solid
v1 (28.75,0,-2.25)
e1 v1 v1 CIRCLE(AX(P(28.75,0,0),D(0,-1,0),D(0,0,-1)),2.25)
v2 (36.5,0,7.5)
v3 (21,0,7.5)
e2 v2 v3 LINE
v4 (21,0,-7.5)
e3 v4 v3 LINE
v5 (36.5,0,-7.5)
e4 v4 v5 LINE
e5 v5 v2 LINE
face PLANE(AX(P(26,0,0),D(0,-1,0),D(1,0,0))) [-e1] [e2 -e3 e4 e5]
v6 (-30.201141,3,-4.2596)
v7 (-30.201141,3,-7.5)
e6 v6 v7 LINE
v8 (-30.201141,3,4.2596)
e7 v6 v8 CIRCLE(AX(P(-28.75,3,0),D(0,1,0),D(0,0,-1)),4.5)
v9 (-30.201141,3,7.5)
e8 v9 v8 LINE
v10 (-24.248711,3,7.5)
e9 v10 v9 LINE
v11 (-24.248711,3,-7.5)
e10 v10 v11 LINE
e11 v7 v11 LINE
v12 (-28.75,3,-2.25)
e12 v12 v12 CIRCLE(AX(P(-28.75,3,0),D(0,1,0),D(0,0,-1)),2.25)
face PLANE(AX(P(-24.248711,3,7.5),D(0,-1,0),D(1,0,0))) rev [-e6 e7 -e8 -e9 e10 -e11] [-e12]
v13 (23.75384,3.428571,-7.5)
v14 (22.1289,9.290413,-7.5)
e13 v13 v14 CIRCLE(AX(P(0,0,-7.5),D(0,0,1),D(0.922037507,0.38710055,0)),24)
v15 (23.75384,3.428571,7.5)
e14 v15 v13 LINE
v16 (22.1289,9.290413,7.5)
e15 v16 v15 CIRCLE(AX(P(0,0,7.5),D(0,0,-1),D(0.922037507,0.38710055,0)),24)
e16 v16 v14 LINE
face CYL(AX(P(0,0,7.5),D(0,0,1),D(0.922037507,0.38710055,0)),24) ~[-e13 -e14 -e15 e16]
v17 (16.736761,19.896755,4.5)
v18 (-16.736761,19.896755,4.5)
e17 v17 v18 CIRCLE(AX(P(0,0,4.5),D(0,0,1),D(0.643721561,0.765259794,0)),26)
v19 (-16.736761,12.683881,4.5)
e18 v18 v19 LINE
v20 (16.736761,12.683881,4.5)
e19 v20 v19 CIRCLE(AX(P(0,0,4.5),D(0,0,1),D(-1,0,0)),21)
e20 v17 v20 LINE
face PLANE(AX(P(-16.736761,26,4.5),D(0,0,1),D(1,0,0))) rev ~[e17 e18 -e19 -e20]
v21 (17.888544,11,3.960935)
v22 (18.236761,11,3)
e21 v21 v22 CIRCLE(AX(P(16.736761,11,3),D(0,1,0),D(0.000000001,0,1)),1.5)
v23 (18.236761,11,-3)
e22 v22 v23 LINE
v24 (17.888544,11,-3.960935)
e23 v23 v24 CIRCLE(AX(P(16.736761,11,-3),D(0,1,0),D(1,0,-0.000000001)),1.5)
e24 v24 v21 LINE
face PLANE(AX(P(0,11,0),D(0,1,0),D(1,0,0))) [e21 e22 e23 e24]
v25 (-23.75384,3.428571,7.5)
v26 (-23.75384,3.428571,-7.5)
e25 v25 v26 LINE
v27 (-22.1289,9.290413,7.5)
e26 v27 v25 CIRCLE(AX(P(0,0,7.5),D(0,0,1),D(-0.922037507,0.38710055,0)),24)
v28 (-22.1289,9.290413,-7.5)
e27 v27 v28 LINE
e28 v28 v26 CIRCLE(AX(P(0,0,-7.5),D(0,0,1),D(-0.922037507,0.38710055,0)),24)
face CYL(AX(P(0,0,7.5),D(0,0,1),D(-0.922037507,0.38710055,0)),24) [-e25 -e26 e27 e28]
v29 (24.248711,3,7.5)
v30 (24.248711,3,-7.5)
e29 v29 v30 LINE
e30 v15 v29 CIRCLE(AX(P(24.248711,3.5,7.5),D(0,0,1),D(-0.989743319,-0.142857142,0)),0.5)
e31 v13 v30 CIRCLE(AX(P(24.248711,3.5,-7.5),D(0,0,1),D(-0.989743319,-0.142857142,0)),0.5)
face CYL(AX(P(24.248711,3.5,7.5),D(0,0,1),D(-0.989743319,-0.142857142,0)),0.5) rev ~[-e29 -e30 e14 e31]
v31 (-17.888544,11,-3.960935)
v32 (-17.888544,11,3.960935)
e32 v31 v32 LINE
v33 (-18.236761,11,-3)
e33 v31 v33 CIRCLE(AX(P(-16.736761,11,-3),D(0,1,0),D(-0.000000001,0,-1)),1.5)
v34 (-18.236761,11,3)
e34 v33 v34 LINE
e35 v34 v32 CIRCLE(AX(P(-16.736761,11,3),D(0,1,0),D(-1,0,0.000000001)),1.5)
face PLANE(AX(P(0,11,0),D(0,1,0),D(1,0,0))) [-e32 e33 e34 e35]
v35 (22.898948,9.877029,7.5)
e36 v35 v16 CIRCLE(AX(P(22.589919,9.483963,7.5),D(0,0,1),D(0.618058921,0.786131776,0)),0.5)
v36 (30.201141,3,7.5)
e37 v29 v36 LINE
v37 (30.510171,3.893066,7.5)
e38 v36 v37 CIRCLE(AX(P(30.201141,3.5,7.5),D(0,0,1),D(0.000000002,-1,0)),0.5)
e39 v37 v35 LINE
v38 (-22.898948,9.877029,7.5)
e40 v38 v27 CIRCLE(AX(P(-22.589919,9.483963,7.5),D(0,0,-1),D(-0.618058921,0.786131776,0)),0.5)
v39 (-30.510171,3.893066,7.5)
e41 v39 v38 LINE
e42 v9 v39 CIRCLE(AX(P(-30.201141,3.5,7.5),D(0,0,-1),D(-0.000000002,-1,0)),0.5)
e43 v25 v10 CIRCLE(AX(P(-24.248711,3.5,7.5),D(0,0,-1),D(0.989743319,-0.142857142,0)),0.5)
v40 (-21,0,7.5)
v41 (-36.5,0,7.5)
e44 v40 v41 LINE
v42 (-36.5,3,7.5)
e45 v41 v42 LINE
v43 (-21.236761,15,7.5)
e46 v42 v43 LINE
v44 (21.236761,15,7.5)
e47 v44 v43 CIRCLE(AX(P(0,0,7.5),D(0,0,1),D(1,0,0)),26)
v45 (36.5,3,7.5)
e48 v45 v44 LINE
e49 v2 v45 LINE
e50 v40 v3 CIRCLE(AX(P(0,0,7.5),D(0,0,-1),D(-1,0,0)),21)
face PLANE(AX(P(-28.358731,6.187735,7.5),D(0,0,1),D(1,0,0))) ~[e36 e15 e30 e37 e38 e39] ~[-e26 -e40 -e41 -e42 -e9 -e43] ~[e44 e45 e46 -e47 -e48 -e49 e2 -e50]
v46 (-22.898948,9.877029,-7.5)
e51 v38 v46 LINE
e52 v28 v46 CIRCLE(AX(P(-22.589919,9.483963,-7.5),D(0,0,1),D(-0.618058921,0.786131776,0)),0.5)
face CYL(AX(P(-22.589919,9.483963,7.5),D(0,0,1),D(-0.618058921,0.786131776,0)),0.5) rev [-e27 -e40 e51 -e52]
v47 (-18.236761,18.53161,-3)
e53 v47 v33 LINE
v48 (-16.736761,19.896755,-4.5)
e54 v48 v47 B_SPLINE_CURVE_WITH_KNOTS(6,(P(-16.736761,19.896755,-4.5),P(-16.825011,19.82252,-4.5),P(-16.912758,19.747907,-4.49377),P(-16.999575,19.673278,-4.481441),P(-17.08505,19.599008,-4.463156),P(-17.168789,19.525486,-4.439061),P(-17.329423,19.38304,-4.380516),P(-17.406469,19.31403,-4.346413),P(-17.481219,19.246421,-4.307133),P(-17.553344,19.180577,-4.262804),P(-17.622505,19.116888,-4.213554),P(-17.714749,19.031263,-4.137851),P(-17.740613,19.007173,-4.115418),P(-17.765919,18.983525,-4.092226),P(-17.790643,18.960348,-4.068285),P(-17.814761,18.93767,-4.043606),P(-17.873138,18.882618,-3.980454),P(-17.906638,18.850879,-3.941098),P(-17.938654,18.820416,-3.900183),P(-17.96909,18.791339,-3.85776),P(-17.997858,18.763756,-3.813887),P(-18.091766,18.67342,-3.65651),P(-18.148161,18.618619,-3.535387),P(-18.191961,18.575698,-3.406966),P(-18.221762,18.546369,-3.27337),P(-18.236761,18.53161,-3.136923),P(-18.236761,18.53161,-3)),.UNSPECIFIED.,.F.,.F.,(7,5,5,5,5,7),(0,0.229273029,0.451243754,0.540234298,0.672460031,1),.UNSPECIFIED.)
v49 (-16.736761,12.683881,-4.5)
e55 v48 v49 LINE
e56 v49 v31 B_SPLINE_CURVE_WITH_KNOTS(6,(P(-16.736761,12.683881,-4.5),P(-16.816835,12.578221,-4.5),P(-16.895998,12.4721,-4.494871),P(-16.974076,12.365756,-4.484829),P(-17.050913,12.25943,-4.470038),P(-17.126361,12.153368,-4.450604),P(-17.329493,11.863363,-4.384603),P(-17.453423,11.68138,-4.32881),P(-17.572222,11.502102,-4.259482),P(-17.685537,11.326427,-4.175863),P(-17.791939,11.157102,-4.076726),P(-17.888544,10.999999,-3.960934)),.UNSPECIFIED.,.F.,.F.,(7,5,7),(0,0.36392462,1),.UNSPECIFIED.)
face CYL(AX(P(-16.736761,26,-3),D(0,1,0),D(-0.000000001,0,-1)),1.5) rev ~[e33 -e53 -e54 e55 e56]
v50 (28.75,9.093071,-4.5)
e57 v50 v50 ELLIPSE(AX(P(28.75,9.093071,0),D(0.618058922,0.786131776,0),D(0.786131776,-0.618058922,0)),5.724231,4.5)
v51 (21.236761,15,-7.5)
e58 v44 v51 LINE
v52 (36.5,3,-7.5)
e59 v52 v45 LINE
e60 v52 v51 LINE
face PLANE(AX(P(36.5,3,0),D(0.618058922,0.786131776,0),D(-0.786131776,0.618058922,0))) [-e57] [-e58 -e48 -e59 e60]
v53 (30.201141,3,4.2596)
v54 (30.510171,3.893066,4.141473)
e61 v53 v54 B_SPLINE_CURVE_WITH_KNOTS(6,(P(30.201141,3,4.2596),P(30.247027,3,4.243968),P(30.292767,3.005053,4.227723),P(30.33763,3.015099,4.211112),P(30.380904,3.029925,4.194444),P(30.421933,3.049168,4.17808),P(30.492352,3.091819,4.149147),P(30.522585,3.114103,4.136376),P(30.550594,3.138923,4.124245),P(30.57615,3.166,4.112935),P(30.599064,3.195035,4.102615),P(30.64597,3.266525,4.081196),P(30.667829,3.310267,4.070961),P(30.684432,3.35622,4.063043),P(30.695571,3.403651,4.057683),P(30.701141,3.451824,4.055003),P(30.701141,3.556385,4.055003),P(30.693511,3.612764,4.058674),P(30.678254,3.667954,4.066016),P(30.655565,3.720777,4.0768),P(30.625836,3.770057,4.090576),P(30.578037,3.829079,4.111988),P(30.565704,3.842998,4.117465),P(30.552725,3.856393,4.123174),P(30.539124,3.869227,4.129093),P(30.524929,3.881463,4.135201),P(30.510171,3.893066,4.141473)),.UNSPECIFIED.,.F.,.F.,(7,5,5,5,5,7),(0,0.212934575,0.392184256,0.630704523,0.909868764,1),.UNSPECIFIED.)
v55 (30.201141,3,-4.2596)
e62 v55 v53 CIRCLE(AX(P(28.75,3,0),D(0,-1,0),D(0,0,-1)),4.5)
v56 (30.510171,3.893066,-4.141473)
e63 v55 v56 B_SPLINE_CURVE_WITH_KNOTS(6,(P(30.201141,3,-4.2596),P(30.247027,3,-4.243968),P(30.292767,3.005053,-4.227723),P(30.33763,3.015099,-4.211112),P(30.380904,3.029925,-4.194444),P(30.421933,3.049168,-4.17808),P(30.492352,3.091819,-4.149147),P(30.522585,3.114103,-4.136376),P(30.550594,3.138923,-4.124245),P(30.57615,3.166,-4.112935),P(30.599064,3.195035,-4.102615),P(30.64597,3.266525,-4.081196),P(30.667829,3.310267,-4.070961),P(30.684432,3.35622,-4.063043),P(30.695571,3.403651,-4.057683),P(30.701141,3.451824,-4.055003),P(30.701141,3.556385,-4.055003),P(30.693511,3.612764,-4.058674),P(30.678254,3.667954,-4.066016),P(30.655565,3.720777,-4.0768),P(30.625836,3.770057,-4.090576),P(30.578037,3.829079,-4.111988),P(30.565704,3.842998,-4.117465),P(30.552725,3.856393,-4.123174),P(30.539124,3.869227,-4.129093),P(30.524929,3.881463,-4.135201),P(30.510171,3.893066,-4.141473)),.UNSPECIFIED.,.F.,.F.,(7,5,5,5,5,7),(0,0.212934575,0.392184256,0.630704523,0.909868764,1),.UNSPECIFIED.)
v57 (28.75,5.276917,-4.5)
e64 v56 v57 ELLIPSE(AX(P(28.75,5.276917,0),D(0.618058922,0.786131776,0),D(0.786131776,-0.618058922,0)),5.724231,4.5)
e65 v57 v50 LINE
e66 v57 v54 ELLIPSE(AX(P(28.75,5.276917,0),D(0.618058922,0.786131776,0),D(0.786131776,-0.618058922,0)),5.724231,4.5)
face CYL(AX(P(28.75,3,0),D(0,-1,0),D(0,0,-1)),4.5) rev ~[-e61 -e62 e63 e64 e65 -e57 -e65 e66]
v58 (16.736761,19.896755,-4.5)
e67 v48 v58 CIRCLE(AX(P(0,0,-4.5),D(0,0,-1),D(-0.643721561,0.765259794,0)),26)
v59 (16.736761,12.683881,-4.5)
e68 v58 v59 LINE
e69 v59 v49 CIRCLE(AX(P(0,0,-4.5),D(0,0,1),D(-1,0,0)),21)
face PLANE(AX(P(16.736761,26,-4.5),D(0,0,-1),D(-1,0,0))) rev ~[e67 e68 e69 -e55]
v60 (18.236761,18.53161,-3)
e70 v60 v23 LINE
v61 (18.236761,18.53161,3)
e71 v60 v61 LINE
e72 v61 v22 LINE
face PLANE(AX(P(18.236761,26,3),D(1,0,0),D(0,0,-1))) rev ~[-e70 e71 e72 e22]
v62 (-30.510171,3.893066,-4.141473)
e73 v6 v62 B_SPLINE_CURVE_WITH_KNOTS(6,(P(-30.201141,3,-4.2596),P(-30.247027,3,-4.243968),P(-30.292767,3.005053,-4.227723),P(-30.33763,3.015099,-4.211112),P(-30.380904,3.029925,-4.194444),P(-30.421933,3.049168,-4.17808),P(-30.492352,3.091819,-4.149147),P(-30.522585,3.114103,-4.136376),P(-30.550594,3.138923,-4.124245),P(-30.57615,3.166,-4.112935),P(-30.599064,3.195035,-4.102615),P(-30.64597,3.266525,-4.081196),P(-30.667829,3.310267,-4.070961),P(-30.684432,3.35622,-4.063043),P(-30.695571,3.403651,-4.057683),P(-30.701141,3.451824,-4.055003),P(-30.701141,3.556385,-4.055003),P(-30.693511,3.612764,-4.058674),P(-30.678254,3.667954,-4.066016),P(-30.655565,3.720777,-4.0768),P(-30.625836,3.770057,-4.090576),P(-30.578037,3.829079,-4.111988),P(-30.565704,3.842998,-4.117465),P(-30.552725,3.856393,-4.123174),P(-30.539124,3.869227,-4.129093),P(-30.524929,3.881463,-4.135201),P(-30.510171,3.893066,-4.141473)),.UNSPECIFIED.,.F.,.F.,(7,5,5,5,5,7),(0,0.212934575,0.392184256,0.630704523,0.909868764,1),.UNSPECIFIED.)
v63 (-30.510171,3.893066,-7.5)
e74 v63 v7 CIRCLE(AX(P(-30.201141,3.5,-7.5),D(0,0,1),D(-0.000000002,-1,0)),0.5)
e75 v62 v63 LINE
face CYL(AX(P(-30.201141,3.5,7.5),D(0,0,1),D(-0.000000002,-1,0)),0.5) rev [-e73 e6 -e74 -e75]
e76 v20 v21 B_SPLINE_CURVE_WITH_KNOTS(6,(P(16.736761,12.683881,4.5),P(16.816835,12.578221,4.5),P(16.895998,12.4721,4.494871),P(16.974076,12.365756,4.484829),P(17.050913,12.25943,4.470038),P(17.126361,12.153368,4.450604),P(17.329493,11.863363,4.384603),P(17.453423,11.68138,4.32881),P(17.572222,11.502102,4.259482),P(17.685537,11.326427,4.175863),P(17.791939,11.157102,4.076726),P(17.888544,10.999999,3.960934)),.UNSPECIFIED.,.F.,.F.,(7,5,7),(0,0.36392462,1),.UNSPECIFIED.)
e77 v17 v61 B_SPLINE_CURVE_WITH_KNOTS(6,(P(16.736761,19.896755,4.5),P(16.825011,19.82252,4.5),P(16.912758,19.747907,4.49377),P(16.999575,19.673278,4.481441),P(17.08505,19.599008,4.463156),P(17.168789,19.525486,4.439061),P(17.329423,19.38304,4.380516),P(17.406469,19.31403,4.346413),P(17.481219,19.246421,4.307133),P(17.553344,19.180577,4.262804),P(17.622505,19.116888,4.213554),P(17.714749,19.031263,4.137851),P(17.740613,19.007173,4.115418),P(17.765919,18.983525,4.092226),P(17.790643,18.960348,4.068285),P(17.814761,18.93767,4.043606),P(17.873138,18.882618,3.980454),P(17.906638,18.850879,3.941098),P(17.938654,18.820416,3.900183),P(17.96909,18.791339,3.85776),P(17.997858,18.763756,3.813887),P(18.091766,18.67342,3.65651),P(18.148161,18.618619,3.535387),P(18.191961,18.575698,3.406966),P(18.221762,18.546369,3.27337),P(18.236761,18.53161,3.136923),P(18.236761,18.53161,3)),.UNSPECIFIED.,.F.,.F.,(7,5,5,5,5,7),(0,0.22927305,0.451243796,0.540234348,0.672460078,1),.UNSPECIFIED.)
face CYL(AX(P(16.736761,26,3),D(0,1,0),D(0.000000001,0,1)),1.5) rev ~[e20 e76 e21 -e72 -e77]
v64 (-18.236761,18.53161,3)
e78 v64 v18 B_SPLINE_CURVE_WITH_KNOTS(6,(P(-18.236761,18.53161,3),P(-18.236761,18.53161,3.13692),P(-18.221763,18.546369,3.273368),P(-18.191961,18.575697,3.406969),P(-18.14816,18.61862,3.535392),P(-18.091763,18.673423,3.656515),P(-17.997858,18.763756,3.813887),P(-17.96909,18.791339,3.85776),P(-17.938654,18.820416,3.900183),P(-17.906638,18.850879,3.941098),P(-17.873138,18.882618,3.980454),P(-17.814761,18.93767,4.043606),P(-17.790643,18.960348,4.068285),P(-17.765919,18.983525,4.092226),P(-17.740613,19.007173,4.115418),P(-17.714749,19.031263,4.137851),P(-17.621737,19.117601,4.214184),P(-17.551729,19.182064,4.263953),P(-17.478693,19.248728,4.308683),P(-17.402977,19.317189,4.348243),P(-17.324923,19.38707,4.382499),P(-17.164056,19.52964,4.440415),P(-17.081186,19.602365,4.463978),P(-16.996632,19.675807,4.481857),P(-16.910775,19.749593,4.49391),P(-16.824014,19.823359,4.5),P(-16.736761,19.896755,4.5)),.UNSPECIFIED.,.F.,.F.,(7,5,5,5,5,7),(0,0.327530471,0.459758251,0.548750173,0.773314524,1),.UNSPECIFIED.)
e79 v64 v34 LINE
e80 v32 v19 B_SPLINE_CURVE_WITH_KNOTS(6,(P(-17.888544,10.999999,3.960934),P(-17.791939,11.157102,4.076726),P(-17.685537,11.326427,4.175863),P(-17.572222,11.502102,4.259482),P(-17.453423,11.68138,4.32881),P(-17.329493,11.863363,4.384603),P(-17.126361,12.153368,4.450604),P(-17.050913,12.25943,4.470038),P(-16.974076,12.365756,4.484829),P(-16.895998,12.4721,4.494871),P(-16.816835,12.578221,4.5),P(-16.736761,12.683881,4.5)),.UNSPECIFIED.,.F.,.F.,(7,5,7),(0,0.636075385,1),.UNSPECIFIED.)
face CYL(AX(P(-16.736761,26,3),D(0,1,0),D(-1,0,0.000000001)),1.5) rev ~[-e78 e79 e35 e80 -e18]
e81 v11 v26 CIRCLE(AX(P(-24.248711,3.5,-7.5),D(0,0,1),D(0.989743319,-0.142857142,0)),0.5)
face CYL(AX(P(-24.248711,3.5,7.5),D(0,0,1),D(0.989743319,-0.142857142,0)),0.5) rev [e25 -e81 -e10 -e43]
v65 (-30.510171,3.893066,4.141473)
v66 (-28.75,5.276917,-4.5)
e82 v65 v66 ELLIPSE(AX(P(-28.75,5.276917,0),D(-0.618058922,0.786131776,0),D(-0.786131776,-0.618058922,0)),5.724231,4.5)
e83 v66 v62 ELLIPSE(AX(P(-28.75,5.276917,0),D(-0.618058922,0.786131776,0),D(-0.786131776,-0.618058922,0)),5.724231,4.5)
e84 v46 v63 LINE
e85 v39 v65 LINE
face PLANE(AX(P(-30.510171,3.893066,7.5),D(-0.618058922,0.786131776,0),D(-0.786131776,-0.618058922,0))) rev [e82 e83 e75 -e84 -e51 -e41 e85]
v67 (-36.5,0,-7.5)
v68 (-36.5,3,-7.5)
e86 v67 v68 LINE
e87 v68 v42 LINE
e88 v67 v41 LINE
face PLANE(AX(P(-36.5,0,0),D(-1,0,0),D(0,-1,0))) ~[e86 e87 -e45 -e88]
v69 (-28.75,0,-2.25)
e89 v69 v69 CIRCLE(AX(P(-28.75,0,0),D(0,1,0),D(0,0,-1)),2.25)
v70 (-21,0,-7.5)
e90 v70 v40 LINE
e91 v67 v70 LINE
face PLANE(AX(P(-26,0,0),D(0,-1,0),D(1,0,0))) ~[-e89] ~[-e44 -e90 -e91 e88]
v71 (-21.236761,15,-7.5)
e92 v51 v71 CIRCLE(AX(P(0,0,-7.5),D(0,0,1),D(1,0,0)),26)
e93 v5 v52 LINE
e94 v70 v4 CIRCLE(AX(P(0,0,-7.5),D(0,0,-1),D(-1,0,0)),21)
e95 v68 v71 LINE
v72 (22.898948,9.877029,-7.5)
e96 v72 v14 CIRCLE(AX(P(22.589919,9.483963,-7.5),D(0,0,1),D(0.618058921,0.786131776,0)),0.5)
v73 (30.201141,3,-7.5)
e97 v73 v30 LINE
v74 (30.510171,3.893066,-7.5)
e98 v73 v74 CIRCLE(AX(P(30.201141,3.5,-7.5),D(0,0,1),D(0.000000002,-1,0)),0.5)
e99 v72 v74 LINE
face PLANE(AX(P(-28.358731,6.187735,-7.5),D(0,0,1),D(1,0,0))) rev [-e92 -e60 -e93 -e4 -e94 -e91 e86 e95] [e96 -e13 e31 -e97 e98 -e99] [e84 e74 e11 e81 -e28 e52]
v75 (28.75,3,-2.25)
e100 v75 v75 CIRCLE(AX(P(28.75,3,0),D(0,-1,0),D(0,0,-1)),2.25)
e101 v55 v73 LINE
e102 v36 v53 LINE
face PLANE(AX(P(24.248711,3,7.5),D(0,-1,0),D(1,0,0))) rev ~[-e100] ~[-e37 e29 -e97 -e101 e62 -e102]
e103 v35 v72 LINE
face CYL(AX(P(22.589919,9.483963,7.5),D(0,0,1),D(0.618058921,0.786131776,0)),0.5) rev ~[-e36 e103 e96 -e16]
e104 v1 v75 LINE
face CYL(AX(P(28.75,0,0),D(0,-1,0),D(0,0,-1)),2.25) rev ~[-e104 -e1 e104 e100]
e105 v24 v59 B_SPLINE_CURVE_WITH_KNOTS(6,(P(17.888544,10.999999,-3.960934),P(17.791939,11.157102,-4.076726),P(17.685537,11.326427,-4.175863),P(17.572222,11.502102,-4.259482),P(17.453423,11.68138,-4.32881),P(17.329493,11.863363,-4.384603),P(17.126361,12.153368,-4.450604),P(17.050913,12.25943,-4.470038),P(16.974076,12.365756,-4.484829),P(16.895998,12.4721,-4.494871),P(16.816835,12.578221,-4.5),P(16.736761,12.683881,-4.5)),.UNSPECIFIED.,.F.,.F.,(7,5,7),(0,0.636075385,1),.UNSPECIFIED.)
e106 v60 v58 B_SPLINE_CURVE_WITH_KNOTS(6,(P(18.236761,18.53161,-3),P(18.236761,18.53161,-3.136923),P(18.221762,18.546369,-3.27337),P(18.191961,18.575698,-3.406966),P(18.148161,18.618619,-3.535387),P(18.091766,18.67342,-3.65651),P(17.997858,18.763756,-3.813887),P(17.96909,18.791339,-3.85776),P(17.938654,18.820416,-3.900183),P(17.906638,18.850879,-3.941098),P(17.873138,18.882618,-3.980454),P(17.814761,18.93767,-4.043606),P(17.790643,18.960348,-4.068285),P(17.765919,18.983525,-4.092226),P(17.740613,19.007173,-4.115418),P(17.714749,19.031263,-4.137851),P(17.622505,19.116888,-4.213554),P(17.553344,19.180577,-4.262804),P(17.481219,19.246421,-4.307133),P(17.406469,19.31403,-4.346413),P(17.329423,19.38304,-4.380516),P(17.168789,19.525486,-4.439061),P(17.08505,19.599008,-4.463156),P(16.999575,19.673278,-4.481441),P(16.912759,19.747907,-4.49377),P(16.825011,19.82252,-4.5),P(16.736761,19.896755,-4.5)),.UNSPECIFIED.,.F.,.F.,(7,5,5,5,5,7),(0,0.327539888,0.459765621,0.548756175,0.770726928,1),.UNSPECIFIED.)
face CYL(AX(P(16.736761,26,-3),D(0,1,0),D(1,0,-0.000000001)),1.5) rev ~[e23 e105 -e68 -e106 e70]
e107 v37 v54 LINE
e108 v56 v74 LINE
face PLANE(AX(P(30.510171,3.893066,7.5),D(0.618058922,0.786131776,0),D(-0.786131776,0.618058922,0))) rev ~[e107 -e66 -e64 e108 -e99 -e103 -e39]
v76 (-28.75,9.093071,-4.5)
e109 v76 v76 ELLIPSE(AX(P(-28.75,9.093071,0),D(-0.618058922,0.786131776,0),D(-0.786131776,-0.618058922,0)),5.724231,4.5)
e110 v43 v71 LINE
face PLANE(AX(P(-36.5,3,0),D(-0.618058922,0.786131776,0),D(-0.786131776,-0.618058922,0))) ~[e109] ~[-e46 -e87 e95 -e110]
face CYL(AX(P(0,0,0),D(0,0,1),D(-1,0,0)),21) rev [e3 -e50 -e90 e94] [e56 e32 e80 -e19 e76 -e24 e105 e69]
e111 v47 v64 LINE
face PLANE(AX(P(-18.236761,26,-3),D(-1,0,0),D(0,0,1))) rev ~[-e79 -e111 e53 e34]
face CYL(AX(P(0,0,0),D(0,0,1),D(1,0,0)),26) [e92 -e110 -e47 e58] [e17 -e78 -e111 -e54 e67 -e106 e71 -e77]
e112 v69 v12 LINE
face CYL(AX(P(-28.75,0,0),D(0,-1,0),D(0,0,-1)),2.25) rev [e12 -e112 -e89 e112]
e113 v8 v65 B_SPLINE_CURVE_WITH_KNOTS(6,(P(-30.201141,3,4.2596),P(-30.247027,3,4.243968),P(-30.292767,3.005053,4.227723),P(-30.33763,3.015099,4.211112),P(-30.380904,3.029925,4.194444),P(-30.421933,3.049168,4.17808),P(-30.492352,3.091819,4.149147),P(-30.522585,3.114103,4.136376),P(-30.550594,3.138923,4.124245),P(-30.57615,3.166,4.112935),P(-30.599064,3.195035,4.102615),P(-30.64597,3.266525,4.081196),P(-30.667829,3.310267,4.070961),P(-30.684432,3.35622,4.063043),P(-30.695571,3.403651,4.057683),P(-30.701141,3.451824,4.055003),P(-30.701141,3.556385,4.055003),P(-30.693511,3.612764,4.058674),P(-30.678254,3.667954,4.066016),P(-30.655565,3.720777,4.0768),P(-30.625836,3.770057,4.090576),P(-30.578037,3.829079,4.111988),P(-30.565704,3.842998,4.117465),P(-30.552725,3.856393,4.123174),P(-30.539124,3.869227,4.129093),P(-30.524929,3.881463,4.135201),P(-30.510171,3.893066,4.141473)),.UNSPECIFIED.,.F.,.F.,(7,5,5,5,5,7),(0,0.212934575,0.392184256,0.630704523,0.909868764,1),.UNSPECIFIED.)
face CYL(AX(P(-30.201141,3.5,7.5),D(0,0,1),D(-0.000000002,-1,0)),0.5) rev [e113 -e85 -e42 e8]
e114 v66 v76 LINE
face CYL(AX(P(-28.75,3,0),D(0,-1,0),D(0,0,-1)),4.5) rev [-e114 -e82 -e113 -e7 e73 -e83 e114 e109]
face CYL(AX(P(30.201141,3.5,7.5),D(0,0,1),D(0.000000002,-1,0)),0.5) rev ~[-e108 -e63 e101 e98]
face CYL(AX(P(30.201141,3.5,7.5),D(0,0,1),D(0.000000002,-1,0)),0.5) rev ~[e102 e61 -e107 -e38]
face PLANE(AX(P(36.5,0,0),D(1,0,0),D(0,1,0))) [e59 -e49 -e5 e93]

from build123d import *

# Parameters (mm, degrees)
SALIENTE_EXTRUIR1_DEPTH = 7.5
SALIENTE_EXTRUIR2_DEPTH = 7.5
CROQUIS3_R              = 2.25
CORTAR_EXTRUIR1_DEPTH   = 46.436769251
CROQUIS4_R              = 4.5
CORTAR_EXTRUIR2_DEPTH   = 44.789268092
CORTAR_EXTRUIR3_DEPTH   = 48.257274572
CORTAR_EXTRUIR4_DEPTH   = 15


with BuildPart() as part:
    # Croquis1 → Saliente-Extruir1 (new, symmetric)
    with BuildSketch(Plane.XY):
        with BuildLine():
            Line((-26, 0), (-21, 0))
            ThreePointArc((-21, 0), (0, 21), (21, 0))
            Line((21, 0), (26, 0))
            ThreePointArc((26, 0), (0, 26), (-26, 0))
        make_face()
    extrude(amount=SALIENTE_EXTRUIR1_DEPTH, both=True)

    # Croquis2 → Saliente-Extruir2 (add, symmetric)
    with BuildSketch(Plane.XY):
        with BuildLine():
            Line((26, 0), (36.5, 0))
            Line((36.5, 0), (36.5, 3))
            Line((36.5, 3), (21.236760582, 15))
            ThreePointArc((21.236760582, 15), (24.78059498, 7.869060455), (26, 0))
        make_face()
    saliente_extruir2 = extrude(amount=SALIENTE_EXTRUIR2_DEPTH, both=True)

    # Croquis3 → Cortar-Extruir1 (cut, through all)
    with BuildSketch(Plane.XZ):
        with Locations(Location((28.75, 0, 0), (0, 0, 270))):
            Circle(CROQUIS3_R)
    cortar_extruir1 = extrude(amount=-CORTAR_EXTRUIR1_DEPTH, mode=Mode.SUBTRACT)

    # Croquis4 → Cortar-Extruir2 (cut, through all)
    with BuildSketch(Plane(origin=(0, 3, 0), x_dir=(-1, 0, 0), z_dir=(0, -1, 0))):
        with Locations(Location((-28.75, 0, 0), (0, 0, 90))):
            Circle(CROQUIS4_R)
    cortar_extruir2 = extrude(amount=-CORTAR_EXTRUIR2_DEPTH, mode=Mode.SUBTRACT)

    # Simetría1: Saliente-Extruir2 across plane
    add(saliente_extruir2.mirror(Plane(origin=(0, 0, 0), x_dir=(0, 0, 1), z_dir=(1, 0, 0))))

    # Croquis6 → Cortar-Extruir3 (cut, through all)
    with BuildSketch(Plane.XY.offset(7.5)):
        with BuildLine():
            Line((30.510170652, 3.893065888), (22.898948379, 9.877029369))
            ThreePointArc((22.898948379, 9.877029369), (22.28692582, 9.881701061), (22.128900164, 9.290413206))
            ThreePointArc((22.128900164, 9.290413206), (23.12783497, 6.411181608), (23.753839647, 3.428571429))
            ThreePointArc((23.753839647, 3.428571429), (23.921384471, 3.122035527), (24.248711306, 3))
            Line((24.248711306, 3), (30.201141191, 3))
            ThreePointArc((30.201141191, 3), (30.673652007, 3.336496092), (30.510170652, 3.893065888))
        make_face()
    cortar_extruir3 = extrude(amount=-CORTAR_EXTRUIR3_DEPTH, mode=Mode.SUBTRACT)

    # Croquis8 → Cortar-Extruir4 (cut)
    with BuildSketch(Plane(origin=(0, 26, 0), x_dir=(1, 0, 0), z_dir=(0, 1, 0))):
        with BuildLine():
            Line((-16.736760582, -4.5), (16.736760582, -4.5))
            ThreePointArc((16.736760582, -4.5), (17.797420753, -4.060660172), (18.236760582, -3))
            Line((18.236760582, -3), (18.236760582, 3))
            ThreePointArc((18.236760582, 3), (17.797420753, 4.060660172), (16.736760582, 4.5))
            Line((16.736760582, 4.5), (-16.736760582, 4.5))
            ThreePointArc((-16.736760582, 4.5), (-17.797420753, 4.060660172), (-18.236760582, 3))
            Line((-18.236760582, 3), (-18.236760582, -3))
            ThreePointArc((-18.236760582, -3), (-17.797420753, -4.060660172), (-16.736760582, -4.5))
        make_face()
    extrude(amount=-CORTAR_EXTRUIR4_DEPTH, mode=Mode.SUBTRACT)

    # Simetría2: Cortar-Extruir1, Cortar-Extruir2, Cortar-Extruir3 across plane
    add(cortar_extruir1.mirror(Plane(origin=(0, 0, 0), x_dir=(0, 0, 1), z_dir=(1, 0, 0))), mode=Mode.SUBTRACT)
    add(cortar_extruir2.mirror(Plane(origin=(0, 0, 0), x_dir=(0, 0, 1), z_dir=(1, 0, 0))), mode=Mode.SUBTRACT)
    add(cortar_extruir3.mirror(Plane(origin=(0, 0, 0), x_dir=(0, 0, 1), z_dir=(1, 0, 0))), mode=Mode.SUBTRACT)


solid = part.part
